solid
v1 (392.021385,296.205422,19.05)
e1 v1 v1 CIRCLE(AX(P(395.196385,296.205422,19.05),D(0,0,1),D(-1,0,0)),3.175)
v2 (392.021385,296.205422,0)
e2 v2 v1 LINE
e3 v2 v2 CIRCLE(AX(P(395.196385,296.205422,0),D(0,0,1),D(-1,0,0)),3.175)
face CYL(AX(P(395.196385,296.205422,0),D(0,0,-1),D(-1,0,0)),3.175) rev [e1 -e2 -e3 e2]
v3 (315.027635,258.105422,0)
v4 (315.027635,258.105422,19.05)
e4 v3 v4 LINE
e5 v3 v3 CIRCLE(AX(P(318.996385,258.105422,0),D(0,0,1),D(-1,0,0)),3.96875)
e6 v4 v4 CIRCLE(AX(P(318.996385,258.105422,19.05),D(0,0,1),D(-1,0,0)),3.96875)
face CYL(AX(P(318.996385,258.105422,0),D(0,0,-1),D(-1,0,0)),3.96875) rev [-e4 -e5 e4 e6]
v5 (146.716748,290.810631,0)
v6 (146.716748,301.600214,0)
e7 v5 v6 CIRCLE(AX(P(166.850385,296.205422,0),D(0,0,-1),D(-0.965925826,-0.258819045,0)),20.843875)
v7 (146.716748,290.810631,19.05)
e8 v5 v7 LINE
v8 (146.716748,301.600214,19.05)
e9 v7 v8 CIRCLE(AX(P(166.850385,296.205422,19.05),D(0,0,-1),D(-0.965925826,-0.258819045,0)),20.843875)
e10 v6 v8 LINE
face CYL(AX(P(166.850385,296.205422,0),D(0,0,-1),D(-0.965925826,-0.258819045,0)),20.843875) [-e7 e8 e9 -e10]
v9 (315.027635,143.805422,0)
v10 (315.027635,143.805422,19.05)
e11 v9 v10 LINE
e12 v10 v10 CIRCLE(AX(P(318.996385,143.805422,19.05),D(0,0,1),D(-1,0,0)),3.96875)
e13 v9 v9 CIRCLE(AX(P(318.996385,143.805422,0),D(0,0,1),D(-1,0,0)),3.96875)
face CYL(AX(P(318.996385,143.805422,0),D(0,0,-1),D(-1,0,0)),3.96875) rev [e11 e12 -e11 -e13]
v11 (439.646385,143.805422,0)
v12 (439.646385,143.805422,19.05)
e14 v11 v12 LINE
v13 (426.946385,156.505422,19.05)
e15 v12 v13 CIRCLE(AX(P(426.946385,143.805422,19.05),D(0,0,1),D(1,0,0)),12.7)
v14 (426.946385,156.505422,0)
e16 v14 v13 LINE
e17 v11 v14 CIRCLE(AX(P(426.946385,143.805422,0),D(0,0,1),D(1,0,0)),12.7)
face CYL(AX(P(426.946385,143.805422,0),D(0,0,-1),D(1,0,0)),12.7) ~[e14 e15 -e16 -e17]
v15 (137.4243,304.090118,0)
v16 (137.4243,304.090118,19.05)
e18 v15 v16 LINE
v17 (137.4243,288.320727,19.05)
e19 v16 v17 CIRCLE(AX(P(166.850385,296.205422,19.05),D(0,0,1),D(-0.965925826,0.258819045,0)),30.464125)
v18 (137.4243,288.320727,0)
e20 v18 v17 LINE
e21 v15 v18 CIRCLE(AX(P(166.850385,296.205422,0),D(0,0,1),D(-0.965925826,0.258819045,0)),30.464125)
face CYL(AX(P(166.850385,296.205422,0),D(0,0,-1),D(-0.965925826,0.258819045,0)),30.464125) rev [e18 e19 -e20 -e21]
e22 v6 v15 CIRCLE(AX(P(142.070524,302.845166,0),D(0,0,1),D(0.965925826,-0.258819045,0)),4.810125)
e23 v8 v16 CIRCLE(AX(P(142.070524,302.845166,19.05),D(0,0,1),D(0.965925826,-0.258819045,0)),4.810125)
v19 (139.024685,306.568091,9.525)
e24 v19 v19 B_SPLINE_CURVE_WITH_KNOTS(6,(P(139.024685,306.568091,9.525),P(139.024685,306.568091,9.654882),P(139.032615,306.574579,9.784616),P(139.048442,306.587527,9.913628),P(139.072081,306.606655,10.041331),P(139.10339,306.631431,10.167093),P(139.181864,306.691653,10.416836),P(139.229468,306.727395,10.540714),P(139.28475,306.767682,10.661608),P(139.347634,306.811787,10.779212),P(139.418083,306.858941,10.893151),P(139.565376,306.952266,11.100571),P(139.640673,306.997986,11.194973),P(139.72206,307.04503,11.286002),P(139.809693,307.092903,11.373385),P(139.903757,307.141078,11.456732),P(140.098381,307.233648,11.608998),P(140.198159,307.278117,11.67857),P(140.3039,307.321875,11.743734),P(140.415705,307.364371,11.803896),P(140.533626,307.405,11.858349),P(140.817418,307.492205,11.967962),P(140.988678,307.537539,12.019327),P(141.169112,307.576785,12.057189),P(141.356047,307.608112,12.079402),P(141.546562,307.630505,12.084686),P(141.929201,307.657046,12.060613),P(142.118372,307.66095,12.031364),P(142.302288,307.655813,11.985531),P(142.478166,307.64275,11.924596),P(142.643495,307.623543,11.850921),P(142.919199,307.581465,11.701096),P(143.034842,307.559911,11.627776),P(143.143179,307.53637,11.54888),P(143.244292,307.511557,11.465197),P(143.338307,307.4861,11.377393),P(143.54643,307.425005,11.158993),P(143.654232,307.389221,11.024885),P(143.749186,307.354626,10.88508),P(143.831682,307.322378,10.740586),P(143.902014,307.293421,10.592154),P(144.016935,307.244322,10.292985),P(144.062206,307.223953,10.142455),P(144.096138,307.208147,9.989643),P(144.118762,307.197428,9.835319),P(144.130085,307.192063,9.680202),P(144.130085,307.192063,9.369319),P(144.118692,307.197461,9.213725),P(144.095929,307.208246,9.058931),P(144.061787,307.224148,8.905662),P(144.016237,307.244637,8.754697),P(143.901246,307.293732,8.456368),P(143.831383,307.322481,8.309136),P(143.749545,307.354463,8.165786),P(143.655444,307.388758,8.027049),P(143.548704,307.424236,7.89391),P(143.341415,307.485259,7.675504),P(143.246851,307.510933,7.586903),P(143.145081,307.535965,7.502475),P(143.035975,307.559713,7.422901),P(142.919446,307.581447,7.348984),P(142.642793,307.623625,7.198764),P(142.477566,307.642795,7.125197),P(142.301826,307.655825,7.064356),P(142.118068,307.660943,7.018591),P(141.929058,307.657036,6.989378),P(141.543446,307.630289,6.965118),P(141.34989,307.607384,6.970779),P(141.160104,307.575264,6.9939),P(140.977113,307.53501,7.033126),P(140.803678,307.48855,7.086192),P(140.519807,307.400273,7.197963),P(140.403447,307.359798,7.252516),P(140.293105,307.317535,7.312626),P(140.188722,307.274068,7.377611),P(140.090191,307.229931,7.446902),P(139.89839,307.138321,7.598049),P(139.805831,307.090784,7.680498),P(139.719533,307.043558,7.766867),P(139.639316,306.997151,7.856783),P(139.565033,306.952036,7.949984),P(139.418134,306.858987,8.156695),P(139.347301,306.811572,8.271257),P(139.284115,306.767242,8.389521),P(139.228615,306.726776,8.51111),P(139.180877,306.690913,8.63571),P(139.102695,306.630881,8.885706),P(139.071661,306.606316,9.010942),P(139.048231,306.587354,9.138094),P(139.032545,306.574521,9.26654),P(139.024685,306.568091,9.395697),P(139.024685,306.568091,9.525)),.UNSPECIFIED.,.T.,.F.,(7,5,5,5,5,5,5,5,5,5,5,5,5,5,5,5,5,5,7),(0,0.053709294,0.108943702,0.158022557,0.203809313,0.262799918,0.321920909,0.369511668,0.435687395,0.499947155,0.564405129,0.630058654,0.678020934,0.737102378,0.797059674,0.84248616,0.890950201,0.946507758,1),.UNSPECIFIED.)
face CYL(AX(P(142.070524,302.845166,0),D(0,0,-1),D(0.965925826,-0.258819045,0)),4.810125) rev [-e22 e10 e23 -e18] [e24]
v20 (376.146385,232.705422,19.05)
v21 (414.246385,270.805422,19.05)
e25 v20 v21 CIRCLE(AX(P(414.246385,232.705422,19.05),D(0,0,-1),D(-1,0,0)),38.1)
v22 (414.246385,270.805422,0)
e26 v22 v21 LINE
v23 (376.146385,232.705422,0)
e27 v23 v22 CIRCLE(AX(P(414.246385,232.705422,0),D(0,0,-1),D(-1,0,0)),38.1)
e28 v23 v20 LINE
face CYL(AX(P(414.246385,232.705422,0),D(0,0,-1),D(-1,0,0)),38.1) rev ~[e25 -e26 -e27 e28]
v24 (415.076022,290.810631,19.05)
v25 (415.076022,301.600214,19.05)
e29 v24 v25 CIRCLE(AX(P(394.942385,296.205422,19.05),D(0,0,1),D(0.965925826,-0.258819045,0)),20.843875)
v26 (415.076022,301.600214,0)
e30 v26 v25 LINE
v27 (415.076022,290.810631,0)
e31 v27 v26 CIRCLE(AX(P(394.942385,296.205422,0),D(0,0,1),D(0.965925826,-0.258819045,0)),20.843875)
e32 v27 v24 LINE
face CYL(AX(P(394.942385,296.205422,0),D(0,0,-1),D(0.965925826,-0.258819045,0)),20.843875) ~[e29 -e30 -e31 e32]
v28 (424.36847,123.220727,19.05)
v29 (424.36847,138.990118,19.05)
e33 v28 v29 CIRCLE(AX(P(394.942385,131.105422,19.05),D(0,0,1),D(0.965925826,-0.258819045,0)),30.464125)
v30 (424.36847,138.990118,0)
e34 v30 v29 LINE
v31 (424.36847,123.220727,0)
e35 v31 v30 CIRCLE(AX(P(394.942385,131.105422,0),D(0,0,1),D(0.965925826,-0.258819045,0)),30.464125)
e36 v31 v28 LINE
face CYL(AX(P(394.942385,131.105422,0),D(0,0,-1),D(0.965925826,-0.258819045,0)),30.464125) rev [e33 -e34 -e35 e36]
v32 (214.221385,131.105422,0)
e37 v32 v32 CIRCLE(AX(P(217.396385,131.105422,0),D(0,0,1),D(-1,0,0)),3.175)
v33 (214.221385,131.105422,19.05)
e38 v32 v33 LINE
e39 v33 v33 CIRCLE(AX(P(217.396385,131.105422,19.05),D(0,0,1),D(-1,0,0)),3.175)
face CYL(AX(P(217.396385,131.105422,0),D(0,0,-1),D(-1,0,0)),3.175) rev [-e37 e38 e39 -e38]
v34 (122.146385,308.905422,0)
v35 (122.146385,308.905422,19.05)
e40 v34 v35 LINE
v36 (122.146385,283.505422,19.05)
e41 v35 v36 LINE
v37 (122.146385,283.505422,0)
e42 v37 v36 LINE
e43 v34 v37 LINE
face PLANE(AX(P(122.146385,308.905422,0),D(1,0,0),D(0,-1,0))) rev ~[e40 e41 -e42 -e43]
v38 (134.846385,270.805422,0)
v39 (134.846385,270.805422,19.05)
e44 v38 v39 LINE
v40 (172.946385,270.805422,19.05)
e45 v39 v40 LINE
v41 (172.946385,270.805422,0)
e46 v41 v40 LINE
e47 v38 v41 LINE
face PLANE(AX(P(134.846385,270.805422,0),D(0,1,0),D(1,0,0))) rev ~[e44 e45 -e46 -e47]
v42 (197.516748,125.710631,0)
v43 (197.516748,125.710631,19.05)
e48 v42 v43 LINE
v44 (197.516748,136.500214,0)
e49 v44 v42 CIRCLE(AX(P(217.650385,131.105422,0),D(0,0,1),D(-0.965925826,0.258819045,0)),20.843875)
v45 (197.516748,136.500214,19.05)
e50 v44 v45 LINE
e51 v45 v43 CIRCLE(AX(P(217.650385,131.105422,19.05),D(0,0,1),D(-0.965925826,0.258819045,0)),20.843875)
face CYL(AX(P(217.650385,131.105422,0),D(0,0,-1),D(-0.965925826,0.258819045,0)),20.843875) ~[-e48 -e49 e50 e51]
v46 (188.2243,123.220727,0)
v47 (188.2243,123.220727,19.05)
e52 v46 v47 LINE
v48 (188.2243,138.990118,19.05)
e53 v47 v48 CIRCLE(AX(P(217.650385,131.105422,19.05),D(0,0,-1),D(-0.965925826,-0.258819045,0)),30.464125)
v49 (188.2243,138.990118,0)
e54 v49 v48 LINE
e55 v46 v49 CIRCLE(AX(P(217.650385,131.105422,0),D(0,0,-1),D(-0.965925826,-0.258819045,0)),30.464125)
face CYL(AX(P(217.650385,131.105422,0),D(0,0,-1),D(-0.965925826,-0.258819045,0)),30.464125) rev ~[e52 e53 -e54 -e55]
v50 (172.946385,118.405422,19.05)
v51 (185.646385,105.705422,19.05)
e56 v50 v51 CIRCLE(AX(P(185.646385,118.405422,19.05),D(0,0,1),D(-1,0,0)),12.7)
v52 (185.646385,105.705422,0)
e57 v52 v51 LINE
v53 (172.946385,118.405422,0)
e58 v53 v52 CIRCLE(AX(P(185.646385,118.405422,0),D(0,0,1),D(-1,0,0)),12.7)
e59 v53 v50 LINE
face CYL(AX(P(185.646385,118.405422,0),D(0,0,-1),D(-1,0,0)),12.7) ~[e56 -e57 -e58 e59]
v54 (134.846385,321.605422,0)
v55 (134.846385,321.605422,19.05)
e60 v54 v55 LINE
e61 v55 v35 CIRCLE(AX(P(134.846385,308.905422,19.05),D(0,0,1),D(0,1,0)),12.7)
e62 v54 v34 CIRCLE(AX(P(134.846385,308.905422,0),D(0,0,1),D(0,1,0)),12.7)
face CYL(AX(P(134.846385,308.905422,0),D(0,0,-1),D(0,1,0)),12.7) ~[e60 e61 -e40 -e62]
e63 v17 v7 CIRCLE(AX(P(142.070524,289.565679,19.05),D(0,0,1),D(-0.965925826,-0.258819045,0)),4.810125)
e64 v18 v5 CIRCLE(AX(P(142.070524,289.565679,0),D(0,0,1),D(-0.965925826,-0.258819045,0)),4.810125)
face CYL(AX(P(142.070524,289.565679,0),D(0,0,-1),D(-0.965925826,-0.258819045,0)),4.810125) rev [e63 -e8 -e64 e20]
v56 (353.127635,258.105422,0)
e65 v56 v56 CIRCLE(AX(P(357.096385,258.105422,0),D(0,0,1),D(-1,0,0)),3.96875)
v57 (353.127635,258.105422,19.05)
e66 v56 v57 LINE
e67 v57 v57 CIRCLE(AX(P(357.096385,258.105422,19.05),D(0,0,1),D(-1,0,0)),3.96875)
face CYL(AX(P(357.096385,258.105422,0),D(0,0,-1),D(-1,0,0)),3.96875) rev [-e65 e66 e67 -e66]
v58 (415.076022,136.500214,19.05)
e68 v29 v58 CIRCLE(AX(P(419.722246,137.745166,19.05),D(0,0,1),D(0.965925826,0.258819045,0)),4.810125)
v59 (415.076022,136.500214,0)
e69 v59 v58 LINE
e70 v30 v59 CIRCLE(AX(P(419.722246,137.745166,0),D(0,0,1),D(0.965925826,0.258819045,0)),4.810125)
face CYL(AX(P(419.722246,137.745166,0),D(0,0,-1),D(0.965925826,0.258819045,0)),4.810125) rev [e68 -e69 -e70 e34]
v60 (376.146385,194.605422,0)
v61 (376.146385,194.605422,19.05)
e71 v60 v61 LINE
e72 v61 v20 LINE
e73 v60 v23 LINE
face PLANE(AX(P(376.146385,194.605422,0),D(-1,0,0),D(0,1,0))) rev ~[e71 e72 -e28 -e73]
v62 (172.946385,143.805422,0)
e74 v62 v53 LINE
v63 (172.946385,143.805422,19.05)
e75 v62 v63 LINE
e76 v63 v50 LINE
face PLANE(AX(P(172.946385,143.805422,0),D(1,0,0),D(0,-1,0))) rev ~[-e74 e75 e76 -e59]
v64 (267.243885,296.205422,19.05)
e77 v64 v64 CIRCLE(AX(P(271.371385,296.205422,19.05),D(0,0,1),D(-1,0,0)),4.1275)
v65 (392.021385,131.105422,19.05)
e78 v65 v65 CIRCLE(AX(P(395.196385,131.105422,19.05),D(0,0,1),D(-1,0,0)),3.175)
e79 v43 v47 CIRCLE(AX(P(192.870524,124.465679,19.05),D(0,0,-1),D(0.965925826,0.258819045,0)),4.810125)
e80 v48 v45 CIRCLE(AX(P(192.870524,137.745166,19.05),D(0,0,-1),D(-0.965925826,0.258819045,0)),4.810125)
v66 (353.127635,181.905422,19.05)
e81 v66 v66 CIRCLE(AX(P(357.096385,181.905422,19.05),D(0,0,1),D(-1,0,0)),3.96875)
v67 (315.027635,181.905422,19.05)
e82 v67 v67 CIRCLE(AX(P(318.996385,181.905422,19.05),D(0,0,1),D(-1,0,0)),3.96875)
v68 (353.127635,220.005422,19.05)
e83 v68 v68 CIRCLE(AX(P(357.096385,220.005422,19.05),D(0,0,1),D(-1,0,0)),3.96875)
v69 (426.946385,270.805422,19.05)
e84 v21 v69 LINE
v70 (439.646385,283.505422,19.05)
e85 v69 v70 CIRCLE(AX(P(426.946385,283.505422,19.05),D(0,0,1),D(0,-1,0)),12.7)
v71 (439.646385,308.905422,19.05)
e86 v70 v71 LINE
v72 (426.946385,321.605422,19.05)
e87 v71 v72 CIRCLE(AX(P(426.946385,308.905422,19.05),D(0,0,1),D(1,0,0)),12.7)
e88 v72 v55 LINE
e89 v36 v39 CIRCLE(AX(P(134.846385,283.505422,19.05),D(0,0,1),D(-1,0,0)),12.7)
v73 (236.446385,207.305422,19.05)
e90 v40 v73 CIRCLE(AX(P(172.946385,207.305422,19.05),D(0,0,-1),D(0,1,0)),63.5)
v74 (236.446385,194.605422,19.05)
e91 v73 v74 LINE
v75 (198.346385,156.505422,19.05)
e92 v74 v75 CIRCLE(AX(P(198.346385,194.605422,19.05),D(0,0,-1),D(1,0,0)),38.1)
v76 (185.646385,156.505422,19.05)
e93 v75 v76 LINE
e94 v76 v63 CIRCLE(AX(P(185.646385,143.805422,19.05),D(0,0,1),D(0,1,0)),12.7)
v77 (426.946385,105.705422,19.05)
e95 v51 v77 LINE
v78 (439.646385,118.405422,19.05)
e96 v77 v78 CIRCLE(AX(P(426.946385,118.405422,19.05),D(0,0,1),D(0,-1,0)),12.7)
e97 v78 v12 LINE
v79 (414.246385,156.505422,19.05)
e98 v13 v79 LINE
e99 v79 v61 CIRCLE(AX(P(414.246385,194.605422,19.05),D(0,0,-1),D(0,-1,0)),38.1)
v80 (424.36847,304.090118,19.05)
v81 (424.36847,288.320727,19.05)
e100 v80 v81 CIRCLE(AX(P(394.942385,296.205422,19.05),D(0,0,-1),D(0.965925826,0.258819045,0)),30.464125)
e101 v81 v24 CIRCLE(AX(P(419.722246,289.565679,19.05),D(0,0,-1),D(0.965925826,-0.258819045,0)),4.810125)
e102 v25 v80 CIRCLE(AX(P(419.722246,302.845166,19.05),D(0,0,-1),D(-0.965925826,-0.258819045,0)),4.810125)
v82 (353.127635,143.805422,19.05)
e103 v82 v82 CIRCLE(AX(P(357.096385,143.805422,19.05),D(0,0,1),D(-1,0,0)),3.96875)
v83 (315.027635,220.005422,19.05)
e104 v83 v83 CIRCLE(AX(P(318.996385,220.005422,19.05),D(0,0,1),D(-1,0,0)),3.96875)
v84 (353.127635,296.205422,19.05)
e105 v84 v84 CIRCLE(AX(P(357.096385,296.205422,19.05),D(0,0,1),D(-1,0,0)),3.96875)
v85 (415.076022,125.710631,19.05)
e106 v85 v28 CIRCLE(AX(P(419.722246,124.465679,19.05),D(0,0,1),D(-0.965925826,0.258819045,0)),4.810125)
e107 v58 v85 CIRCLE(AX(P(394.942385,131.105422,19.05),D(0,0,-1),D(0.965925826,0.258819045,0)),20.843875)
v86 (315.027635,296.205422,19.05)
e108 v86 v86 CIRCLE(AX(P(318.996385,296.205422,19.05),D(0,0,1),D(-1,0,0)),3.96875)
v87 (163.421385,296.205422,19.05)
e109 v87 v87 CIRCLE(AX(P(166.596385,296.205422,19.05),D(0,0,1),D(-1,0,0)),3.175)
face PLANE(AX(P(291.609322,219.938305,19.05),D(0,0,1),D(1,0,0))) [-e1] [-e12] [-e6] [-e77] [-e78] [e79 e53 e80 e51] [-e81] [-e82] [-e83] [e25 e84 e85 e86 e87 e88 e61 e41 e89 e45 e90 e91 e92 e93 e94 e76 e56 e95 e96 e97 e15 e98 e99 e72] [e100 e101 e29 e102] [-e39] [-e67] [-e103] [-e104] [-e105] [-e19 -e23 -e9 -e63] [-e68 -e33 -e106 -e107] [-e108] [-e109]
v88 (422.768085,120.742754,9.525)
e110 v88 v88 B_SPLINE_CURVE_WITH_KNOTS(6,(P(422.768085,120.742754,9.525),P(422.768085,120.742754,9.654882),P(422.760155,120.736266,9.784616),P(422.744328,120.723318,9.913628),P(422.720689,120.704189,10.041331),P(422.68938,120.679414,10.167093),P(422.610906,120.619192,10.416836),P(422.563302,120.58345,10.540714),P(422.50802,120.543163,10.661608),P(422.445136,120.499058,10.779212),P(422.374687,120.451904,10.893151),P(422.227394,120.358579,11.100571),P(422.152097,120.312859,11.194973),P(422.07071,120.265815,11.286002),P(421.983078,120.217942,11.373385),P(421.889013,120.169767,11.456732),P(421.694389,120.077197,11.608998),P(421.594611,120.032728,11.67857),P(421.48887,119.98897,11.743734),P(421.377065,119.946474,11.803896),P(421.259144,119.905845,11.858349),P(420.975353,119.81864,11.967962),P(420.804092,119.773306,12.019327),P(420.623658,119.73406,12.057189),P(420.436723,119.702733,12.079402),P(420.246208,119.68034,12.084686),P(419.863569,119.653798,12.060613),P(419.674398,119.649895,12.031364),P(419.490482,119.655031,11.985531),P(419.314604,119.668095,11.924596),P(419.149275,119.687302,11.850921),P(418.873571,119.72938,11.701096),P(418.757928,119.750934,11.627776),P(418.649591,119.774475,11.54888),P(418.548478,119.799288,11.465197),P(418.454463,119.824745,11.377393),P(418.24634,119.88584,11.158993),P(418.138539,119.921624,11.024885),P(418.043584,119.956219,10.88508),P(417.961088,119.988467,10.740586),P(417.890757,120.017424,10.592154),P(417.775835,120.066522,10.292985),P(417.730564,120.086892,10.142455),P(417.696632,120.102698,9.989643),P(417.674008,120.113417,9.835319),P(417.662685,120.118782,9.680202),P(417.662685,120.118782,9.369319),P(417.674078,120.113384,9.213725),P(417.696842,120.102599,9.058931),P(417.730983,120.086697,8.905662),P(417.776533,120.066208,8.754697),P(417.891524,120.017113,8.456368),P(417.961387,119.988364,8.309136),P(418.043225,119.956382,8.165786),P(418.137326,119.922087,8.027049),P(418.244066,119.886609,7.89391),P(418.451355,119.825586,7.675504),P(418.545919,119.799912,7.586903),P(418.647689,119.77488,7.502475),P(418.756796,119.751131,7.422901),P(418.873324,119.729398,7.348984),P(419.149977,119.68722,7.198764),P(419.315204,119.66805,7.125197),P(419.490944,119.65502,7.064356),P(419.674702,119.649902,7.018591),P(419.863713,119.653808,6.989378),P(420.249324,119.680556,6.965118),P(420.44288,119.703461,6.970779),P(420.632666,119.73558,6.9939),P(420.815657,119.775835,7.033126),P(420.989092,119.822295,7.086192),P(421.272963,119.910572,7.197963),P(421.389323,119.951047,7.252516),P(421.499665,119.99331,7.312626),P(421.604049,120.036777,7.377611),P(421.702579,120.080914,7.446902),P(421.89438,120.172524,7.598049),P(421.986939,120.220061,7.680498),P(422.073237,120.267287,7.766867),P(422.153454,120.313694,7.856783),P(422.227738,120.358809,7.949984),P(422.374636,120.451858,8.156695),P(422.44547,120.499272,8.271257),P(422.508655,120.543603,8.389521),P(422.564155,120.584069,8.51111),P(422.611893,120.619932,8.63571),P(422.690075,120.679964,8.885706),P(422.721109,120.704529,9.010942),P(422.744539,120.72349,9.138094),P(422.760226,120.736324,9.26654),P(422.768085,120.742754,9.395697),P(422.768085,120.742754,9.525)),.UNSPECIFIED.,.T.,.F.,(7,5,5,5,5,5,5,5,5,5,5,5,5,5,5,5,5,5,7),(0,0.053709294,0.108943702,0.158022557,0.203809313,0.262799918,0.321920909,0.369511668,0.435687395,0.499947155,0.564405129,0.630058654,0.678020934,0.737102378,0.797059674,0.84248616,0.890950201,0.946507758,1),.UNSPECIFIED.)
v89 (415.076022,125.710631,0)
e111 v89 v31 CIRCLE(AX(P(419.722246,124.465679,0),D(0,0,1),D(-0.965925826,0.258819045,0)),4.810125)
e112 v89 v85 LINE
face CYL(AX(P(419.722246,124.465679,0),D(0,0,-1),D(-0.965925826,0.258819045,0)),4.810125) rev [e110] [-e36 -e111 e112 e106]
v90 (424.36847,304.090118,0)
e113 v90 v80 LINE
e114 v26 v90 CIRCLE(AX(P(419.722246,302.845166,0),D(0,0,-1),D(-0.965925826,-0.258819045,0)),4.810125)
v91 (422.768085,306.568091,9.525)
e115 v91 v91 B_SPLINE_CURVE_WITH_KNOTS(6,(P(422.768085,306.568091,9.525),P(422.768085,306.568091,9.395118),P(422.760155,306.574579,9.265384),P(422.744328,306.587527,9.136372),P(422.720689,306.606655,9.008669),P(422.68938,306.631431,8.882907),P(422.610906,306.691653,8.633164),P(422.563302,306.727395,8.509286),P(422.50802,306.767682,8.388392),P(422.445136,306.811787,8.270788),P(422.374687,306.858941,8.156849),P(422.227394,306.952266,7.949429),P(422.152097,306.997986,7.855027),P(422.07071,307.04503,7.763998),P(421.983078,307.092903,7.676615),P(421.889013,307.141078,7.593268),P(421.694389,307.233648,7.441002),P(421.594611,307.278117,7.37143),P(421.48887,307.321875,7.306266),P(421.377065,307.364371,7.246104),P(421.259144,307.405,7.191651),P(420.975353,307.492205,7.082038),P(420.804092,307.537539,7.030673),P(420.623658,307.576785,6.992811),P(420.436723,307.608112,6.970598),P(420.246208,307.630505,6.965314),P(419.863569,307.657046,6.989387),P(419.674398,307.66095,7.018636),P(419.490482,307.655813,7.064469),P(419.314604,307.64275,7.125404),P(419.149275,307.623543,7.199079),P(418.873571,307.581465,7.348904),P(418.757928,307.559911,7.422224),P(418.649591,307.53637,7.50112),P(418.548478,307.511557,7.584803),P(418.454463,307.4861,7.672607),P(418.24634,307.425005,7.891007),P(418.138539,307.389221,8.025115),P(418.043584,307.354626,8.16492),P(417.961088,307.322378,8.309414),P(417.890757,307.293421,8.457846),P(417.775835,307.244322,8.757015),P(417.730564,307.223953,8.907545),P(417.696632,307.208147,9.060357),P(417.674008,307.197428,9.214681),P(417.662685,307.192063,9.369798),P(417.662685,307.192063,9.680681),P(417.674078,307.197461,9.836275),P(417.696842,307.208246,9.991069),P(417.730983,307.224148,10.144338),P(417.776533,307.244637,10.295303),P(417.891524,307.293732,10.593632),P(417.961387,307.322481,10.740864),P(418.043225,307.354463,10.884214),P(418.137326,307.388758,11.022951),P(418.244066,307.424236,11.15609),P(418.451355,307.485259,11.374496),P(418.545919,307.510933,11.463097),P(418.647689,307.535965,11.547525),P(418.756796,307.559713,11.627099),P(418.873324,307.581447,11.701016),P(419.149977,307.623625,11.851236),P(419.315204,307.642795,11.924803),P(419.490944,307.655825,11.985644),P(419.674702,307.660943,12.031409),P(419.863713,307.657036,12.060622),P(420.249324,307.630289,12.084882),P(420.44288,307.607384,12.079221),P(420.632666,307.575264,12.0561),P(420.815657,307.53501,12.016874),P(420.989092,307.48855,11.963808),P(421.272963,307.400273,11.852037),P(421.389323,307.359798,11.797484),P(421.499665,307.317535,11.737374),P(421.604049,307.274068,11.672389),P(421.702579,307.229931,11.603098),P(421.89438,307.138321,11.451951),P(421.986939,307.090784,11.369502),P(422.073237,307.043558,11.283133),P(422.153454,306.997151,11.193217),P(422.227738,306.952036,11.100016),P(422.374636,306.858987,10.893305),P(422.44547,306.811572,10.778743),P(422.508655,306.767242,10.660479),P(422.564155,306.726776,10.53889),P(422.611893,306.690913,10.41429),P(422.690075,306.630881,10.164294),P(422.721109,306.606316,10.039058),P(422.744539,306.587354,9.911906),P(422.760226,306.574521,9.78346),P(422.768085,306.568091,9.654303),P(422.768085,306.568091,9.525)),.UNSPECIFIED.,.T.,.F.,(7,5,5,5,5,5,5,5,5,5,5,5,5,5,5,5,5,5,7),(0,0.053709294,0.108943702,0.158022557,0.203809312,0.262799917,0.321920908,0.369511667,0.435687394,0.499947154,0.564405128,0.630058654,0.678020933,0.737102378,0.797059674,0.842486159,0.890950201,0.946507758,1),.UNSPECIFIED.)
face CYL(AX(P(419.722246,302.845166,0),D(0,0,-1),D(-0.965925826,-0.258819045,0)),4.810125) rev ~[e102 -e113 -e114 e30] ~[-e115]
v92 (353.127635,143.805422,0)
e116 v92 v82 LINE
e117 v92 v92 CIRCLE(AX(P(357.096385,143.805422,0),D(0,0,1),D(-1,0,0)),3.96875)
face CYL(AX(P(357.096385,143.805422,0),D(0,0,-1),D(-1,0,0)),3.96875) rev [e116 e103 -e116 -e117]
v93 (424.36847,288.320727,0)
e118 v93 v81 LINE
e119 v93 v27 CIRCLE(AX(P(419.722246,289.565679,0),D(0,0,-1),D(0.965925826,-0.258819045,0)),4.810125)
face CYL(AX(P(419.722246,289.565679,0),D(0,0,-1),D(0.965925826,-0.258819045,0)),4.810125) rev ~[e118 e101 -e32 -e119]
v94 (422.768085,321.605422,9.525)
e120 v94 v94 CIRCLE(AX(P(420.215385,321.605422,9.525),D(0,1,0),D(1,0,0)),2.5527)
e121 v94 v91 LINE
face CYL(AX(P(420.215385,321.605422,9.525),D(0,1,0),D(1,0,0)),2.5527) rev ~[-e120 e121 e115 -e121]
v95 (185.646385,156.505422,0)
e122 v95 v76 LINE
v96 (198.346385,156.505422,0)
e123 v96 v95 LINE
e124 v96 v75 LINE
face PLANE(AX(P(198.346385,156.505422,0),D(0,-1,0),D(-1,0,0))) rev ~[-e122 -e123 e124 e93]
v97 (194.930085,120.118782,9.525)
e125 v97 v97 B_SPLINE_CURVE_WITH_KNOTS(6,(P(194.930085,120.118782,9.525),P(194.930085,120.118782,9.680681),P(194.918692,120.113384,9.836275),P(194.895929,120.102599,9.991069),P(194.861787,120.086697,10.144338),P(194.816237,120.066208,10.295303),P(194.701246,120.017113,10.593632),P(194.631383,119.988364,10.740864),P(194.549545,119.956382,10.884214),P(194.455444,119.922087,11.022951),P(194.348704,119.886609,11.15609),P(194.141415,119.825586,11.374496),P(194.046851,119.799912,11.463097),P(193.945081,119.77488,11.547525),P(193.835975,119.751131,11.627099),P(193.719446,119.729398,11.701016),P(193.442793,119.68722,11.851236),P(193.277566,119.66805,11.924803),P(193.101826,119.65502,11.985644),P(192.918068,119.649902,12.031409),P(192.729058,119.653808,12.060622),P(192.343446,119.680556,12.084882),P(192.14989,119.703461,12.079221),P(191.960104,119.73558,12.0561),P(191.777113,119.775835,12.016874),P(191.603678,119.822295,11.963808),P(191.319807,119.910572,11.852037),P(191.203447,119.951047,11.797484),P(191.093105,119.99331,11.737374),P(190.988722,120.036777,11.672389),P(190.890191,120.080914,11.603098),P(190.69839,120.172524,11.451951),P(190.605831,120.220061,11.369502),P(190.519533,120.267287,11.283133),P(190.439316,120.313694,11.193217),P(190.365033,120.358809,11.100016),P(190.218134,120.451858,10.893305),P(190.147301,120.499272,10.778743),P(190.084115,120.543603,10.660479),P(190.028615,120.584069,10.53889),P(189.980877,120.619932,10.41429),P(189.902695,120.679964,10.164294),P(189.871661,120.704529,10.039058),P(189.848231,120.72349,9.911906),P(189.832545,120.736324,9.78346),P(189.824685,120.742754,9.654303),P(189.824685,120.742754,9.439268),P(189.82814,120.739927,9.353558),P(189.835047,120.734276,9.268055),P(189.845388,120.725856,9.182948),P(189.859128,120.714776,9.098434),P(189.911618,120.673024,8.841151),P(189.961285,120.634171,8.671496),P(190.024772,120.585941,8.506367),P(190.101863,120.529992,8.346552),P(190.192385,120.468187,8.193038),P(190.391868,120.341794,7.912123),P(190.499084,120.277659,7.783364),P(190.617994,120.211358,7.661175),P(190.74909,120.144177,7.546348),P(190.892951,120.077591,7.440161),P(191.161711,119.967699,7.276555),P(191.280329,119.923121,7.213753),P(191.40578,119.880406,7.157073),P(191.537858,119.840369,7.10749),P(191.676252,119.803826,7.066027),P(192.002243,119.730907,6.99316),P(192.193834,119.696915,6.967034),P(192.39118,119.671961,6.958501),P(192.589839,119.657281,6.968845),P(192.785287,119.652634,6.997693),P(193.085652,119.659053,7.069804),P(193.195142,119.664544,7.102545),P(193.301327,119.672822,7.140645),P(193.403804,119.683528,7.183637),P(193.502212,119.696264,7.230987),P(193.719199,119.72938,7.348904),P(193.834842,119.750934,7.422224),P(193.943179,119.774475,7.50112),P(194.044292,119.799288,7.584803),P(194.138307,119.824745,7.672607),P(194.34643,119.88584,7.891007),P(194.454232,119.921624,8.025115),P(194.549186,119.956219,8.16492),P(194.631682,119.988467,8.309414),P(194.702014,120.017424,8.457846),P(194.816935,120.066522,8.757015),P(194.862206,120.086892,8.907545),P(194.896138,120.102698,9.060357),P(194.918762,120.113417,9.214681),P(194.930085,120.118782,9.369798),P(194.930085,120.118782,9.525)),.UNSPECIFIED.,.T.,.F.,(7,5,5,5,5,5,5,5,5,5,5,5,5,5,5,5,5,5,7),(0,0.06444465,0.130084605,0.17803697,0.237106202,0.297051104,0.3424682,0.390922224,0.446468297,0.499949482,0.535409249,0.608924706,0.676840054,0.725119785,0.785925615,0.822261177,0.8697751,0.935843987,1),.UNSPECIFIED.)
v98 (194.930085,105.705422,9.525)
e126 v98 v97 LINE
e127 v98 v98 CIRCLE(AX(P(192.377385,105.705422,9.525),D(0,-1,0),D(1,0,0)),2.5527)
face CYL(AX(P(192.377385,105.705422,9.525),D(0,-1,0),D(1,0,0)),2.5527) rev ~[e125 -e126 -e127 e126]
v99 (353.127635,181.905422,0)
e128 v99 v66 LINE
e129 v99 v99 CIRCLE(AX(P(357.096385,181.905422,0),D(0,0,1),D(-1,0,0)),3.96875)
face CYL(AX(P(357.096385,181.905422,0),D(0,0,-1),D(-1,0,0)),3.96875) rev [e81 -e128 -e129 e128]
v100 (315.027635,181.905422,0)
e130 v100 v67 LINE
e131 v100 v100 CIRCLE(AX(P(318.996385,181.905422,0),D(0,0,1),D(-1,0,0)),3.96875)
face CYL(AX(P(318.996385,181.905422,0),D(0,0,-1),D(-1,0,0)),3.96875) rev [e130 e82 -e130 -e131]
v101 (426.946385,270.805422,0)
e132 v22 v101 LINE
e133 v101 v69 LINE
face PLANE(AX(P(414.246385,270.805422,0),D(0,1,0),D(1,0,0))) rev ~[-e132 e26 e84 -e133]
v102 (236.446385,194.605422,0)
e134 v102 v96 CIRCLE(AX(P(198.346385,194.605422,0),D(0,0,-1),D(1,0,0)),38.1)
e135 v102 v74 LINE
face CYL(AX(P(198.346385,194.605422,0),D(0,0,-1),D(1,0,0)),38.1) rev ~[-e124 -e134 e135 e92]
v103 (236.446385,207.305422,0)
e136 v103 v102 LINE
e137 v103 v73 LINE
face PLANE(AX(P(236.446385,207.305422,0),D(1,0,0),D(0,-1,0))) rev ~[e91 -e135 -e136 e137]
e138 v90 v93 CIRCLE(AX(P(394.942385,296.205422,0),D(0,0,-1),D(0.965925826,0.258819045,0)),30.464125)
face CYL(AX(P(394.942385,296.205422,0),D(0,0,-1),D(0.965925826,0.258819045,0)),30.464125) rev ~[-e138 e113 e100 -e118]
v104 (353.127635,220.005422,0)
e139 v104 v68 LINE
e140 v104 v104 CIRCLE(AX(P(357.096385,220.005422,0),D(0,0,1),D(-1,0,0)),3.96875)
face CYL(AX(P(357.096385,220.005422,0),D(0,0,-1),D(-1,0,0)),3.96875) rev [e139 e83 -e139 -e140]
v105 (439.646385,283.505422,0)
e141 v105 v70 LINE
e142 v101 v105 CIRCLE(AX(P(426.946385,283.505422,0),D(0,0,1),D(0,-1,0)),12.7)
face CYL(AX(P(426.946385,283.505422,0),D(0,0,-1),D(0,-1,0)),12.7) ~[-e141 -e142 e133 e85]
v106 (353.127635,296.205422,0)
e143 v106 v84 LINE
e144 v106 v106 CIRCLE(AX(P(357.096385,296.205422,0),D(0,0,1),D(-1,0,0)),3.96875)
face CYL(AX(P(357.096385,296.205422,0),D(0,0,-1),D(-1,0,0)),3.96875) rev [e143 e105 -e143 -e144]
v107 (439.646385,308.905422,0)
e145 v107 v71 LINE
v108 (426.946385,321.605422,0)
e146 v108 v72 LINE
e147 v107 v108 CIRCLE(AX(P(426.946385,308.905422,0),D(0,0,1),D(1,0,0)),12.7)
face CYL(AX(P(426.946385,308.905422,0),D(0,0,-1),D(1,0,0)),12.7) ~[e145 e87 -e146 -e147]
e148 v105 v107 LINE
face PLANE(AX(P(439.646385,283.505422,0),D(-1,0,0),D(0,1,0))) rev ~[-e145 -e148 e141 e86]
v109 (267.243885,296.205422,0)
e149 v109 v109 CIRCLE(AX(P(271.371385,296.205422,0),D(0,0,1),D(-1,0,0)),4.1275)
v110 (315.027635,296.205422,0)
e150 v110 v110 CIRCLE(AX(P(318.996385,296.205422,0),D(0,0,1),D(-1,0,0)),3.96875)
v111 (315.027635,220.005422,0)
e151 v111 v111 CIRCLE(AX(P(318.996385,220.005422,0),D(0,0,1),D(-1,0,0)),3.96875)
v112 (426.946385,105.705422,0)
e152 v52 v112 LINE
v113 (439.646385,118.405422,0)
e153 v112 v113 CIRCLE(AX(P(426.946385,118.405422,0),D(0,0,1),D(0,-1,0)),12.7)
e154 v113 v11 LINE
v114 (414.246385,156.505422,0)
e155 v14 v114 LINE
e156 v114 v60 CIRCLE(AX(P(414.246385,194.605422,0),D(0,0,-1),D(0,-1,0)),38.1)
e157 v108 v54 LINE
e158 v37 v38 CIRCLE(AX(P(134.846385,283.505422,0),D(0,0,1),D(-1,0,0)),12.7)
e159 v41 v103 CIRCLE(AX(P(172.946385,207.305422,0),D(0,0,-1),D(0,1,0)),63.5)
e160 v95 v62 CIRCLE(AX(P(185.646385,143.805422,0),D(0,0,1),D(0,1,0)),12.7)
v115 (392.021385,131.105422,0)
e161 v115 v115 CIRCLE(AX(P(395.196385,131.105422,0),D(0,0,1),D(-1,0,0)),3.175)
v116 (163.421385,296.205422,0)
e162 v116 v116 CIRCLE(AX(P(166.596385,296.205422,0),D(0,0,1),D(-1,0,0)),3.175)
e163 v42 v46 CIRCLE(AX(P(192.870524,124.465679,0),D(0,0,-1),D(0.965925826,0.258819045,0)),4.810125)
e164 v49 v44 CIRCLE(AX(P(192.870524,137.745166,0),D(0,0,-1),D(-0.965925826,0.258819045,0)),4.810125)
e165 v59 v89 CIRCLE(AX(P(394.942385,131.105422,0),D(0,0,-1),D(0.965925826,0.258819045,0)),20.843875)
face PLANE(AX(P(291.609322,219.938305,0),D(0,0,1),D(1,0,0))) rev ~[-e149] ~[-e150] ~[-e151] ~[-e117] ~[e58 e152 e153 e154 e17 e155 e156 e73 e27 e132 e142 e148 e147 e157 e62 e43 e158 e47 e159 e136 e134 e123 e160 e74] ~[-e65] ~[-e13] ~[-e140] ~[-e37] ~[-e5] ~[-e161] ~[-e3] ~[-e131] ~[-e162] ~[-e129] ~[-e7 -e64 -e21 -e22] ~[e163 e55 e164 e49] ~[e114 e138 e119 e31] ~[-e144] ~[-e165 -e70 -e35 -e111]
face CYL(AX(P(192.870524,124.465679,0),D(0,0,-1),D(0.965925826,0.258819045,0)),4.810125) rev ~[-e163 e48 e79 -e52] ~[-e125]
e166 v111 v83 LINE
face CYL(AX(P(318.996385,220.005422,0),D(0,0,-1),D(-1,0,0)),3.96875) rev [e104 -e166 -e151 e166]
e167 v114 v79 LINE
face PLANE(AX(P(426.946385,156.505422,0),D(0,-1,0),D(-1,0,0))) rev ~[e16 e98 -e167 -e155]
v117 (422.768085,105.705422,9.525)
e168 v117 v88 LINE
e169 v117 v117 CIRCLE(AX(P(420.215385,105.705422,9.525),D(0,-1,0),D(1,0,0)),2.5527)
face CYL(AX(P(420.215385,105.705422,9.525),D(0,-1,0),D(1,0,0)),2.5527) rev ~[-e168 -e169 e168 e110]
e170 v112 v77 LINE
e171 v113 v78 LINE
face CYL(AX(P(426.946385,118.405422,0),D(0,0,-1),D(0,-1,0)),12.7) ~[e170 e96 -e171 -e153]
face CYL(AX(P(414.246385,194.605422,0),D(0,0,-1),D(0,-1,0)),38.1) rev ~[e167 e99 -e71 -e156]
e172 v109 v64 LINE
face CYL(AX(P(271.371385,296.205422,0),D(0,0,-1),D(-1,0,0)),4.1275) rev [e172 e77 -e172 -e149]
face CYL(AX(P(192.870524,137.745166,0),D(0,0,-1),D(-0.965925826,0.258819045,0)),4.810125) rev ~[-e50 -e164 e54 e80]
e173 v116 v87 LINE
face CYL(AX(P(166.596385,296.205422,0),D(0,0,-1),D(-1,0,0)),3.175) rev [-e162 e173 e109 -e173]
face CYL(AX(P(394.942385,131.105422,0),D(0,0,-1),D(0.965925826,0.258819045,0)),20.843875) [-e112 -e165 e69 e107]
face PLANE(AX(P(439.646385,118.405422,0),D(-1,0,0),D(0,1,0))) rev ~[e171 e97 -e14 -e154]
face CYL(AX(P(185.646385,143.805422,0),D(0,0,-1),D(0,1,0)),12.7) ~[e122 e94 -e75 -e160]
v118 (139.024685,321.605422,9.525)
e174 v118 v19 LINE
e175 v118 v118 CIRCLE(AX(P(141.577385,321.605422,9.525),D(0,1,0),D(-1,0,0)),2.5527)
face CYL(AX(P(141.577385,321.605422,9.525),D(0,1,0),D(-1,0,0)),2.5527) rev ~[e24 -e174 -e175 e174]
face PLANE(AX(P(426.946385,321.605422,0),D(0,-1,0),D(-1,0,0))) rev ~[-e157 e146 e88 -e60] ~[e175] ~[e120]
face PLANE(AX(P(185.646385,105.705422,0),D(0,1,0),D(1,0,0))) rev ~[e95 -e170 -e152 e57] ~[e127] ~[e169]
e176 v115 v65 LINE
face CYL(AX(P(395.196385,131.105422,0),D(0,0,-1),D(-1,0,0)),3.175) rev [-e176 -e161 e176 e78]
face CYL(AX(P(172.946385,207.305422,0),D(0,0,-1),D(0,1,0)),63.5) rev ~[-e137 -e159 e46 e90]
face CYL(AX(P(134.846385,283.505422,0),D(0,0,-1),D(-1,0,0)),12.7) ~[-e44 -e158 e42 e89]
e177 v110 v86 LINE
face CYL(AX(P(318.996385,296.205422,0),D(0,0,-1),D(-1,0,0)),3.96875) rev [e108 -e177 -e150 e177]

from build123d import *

# Parameters (mm, degrees)
MODEL_R             = 3.96875
MODEL_R_2           = 3.175
MODEL_R_3           = 4.1275
BOSS_EXTRUDE1_DEPTH = 19.05
CUT_EXTRUDE1_REACH  = 492.168
SKETCH2_R           = 2.5527
CUT_EXTRUDE2_REACH  = 492.168
SKETCH3_R           = 2.5527


with BuildPart() as part:
    # Model → Boss-Extrude1 (new body)
    with BuildSketch(Plane.XY):
        with BuildLine():
            Line((414.246385051, 270.805422424), (426.946385051, 270.805422424))
            ThreePointArc((426.946385051, 270.805422424), (435.926641172, 274.525166302), (439.646385051, 283.505422424))
            Line((439.646385051, 283.505422424), (439.646385051, 308.905422424))
            ThreePointArc((439.646385051, 308.905422424), (435.926641172, 317.885678545), (426.946385051, 321.605422424))
            Line((426.946385051, 321.605422424), (134.846385051, 321.605422424))
            ThreePointArc((134.846385051, 321.605422424), (125.86612893, 317.885678545), (122.146385051, 308.905422424))
            Line((122.146385051, 308.905422424), (122.146385051, 283.505422424))
            ThreePointArc((122.146385051, 283.505422424), (125.86612893, 274.525166302), (134.846385051, 270.805422424))
            Line((134.846385051, 270.805422424), (172.946385051, 270.805422424))
            ThreePointArc((172.946385051, 270.805422424), (217.847665656, 252.206703029), (236.446385051, 207.305422424))
            Line((236.446385051, 207.305422424), (236.446385051, 194.605422424))
            ThreePointArc((236.446385051, 194.605422424), (225.287153414, 167.66465406), (198.346385051, 156.505422424))
            Line((198.346385051, 156.505422424), (185.646385051, 156.505422424))
            ThreePointArc((185.646385051, 156.505422424), (176.66612893, 152.785678545), (172.946385051, 143.805422424))
            Line((172.946385051, 143.805422424), (172.946385051, 118.405422424))
            ThreePointArc((172.946385051, 118.405422424), (176.66612893, 109.425166302), (185.646385051, 105.705422424))
            Line((185.646385051, 105.705422424), (426.946385051, 105.705422424))
            ThreePointArc((426.946385051, 105.705422424), (435.926641172, 109.425166302), (439.646385051, 118.405422424))
            Line((439.646385051, 118.405422424), (439.646385051, 143.805422424))
            ThreePointArc((439.646385051, 143.805422424), (435.926641172, 152.785678545), (426.946385051, 156.505422424))
            Line((426.946385051, 156.505422424), (414.246385051, 156.505422424))
            ThreePointArc((414.246385051, 156.505422424), (387.305616688, 167.66465406), (376.146385051, 194.605422424))
            Line((376.146385051, 194.605422424), (376.146385051, 232.705422424))
            ThreePointArc((376.146385051, 232.705422424), (387.305616688, 259.646190787), (414.246385051, 270.805422424))
        make_face()
        with Locations(Location((357.096385051, 143.805422424, 0), (0, 0, 180))):
            Circle(MODEL_R, mode=Mode.SUBTRACT)
        with Locations(Location((357.096385051, 220.005422424, 0), (0, 0, 180))):
            Circle(MODEL_R, mode=Mode.SUBTRACT)
        with Locations(Location((357.096385051, 181.905422424, 0), (0, 0, 180))):
            Circle(MODEL_R, mode=Mode.SUBTRACT)
        with Locations(Location((395.196385051, 296.205422424, 0), (0, 0, 180))):
            Circle(MODEL_R_2, mode=Mode.SUBTRACT)
        with Locations(Location((357.096385051, 258.105422424, 0), (0, 0, 180))):
            Circle(MODEL_R, mode=Mode.SUBTRACT)
        with Locations(Location((357.096385051, 296.205422424, 0), (0, 0, 180))):
            Circle(MODEL_R, mode=Mode.SUBTRACT)
        with Locations(Location((271.371385051, 296.205422424, 0), (0, 0, 180))):
            Circle(MODEL_R_3, mode=Mode.SUBTRACT)
        with Locations(Location((318.996385051, 296.205422424, 0), (0, 0, 180))):
            Circle(MODEL_R, mode=Mode.SUBTRACT)
        with Locations(Location((318.996385051, 258.105422424, 0), (0, 0, 180))):
            Circle(MODEL_R, mode=Mode.SUBTRACT)
        with Locations(Location((166.596385051, 296.205422424, 0), (0, 0, 180))):
            Circle(MODEL_R_2, mode=Mode.SUBTRACT)
        with Locations(Location((318.996385051, 181.905422424, 0), (0, 0, 180))):
            Circle(MODEL_R, mode=Mode.SUBTRACT)
        with Locations(Location((395.196385051, 131.105422424, 0), (0, 0, 180))):
            Circle(MODEL_R_2, mode=Mode.SUBTRACT)
        with Locations(Location((318.996385051, 220.005422424, 0), (0, 0, 180))):
            Circle(MODEL_R, mode=Mode.SUBTRACT)
        with Locations(Location((318.996385051, 143.805422424, 0), (0, 0, 180))):
            Circle(MODEL_R, mode=Mode.SUBTRACT)
        with Locations(Location((217.396385051, 131.105422424, 0), (0, 0, 180))):
            Circle(MODEL_R_2, mode=Mode.SUBTRACT)
        with BuildLine():
            ThreePointArc((197.516747869, 136.500214247), (196.806510051, 131.105422424), (197.516747869, 125.7106306))
            ThreePointArc((197.516747869, 125.7106306), (194.115475863, 119.819454675), (188.224299938, 123.220726681))
            ThreePointArc((188.224299938, 123.220726681), (187.186260051, 131.105422424), (188.224299938, 138.990118166))
            ThreePointArc((188.224299938, 138.990118166), (194.115475863, 142.391390172), (197.516747869, 136.500214247))
        make_face(mode=Mode.SUBTRACT)
        with BuildLine():
            ThreePointArc((424.368470164, 123.220726681), (425.406510051, 131.105422424), (424.368470164, 138.990118166))
            ThreePointArc((424.368470164, 138.990118166), (418.477294239, 142.391390172), (415.076022233, 136.500214247))
            ThreePointArc((415.076022233, 136.500214247), (415.786260051, 131.105422424), (415.076022233, 125.7106306))
            ThreePointArc((415.076022233, 125.7106306), (418.477294239, 119.819454675), (424.368470164, 123.220726681))
        make_face(mode=Mode.SUBTRACT)
        with BuildLine():
            ThreePointArc((137.424299938, 304.090118166), (136.386260051, 296.205422424), (137.424299938, 288.320726681))
            ThreePointArc((137.424299938, 288.320726681), (143.315475863, 284.919454675), (146.716747869, 290.8106306))
            ThreePointArc((146.716747869, 290.8106306), (146.006510051, 296.205422424), (146.716747869, 301.600214247))
            ThreePointArc((146.716747869, 301.600214247), (143.315475863, 307.491390172), (137.424299938, 304.090118166))
        make_face(mode=Mode.SUBTRACT)
        with BuildLine():
            ThreePointArc((415.076022233, 290.8106306), (415.786260051, 296.205422424), (415.076022233, 301.600214247))
            ThreePointArc((415.076022233, 301.600214247), (418.477294239, 307.491390172), (424.368470164, 304.090118166))
            ThreePointArc((424.368470164, 304.090118166), (425.406510051, 296.205422424), (424.368470164, 288.320726681))
            ThreePointArc((424.368470164, 288.320726681), (418.477294239, 284.919454675), (415.076022233, 290.8106306))
        make_face(mode=Mode.SUBTRACT)
    extrude(amount=BOSS_EXTRUDE1_DEPTH)

    # Sketch2 → Cut-Extrude1 (cut, up to next)
    with BuildSketch(Plane.XZ.offset(-105.705422424), mode=Mode.PRIVATE) as cut_extrude1_sk1:
        with Locations((192.377385051, 9.525)):
            Circle(SKETCH2_R)
    cut_extrude1_tool1 = extrude(cut_extrude1_sk1.sketch, amount=-CUT_EXTRUDE1_REACH, mode=Mode.PRIVATE) & part.part
    # Sketch2 → Cut-Extrude1 (cut, up to next)
    with BuildSketch(Plane.XZ.offset(-105.705422424), mode=Mode.PRIVATE) as cut_extrude1_sk2:
        with Locations((420.215385051, 9.525)):
            Circle(SKETCH2_R)
    cut_extrude1_tool2 = extrude(cut_extrude1_sk2.sketch, amount=-CUT_EXTRUDE1_REACH, mode=Mode.PRIVATE) & part.part
    add(cut_extrude1_tool1.solids().sort_by_distance((192.377385, 105.705422, 9.525))[0], mode=Mode.SUBTRACT)
    add(cut_extrude1_tool2.solids().sort_by_distance((420.215385, 105.705422, 9.525))[0], mode=Mode.SUBTRACT)

    # Sketch3 → Cut-Extrude2 (cut, up to next)
    with BuildSketch(Plane(origin=(0, 321.605422424, 0), x_dir=(1, 0, 0), z_dir=(0, 1, 0)), mode=Mode.PRIVATE) as cut_extrude2_sk1:
        with Locations(Location((141.577385051, -9.525, 0), (0, 0, 180))):
            Circle(SKETCH3_R)
    cut_extrude2_tool1 = extrude(cut_extrude2_sk1.sketch, amount=-CUT_EXTRUDE2_REACH, mode=Mode.PRIVATE) & part.part
    # Sketch3 → Cut-Extrude2 (cut, up to next)
    with BuildSketch(Plane(origin=(0, 321.605422424, 0), x_dir=(1, 0, 0), z_dir=(0, 1, 0)), mode=Mode.PRIVATE) as cut_extrude2_sk2:
        with Locations((420.215385051, -9.525)):
            Circle(SKETCH3_R)
    cut_extrude2_tool2 = extrude(cut_extrude2_sk2.sketch, amount=-CUT_EXTRUDE2_REACH, mode=Mode.PRIVATE) & part.part
    add(cut_extrude2_tool1.solids().sort_by_distance((141.577385, 321.605422, 9.525))[0], mode=Mode.SUBTRACT)
    add(cut_extrude2_tool2.solids().sort_by_distance((420.215385, 321.605422, 9.525))[0], mode=Mode.SUBTRACT)


solid = part.part
